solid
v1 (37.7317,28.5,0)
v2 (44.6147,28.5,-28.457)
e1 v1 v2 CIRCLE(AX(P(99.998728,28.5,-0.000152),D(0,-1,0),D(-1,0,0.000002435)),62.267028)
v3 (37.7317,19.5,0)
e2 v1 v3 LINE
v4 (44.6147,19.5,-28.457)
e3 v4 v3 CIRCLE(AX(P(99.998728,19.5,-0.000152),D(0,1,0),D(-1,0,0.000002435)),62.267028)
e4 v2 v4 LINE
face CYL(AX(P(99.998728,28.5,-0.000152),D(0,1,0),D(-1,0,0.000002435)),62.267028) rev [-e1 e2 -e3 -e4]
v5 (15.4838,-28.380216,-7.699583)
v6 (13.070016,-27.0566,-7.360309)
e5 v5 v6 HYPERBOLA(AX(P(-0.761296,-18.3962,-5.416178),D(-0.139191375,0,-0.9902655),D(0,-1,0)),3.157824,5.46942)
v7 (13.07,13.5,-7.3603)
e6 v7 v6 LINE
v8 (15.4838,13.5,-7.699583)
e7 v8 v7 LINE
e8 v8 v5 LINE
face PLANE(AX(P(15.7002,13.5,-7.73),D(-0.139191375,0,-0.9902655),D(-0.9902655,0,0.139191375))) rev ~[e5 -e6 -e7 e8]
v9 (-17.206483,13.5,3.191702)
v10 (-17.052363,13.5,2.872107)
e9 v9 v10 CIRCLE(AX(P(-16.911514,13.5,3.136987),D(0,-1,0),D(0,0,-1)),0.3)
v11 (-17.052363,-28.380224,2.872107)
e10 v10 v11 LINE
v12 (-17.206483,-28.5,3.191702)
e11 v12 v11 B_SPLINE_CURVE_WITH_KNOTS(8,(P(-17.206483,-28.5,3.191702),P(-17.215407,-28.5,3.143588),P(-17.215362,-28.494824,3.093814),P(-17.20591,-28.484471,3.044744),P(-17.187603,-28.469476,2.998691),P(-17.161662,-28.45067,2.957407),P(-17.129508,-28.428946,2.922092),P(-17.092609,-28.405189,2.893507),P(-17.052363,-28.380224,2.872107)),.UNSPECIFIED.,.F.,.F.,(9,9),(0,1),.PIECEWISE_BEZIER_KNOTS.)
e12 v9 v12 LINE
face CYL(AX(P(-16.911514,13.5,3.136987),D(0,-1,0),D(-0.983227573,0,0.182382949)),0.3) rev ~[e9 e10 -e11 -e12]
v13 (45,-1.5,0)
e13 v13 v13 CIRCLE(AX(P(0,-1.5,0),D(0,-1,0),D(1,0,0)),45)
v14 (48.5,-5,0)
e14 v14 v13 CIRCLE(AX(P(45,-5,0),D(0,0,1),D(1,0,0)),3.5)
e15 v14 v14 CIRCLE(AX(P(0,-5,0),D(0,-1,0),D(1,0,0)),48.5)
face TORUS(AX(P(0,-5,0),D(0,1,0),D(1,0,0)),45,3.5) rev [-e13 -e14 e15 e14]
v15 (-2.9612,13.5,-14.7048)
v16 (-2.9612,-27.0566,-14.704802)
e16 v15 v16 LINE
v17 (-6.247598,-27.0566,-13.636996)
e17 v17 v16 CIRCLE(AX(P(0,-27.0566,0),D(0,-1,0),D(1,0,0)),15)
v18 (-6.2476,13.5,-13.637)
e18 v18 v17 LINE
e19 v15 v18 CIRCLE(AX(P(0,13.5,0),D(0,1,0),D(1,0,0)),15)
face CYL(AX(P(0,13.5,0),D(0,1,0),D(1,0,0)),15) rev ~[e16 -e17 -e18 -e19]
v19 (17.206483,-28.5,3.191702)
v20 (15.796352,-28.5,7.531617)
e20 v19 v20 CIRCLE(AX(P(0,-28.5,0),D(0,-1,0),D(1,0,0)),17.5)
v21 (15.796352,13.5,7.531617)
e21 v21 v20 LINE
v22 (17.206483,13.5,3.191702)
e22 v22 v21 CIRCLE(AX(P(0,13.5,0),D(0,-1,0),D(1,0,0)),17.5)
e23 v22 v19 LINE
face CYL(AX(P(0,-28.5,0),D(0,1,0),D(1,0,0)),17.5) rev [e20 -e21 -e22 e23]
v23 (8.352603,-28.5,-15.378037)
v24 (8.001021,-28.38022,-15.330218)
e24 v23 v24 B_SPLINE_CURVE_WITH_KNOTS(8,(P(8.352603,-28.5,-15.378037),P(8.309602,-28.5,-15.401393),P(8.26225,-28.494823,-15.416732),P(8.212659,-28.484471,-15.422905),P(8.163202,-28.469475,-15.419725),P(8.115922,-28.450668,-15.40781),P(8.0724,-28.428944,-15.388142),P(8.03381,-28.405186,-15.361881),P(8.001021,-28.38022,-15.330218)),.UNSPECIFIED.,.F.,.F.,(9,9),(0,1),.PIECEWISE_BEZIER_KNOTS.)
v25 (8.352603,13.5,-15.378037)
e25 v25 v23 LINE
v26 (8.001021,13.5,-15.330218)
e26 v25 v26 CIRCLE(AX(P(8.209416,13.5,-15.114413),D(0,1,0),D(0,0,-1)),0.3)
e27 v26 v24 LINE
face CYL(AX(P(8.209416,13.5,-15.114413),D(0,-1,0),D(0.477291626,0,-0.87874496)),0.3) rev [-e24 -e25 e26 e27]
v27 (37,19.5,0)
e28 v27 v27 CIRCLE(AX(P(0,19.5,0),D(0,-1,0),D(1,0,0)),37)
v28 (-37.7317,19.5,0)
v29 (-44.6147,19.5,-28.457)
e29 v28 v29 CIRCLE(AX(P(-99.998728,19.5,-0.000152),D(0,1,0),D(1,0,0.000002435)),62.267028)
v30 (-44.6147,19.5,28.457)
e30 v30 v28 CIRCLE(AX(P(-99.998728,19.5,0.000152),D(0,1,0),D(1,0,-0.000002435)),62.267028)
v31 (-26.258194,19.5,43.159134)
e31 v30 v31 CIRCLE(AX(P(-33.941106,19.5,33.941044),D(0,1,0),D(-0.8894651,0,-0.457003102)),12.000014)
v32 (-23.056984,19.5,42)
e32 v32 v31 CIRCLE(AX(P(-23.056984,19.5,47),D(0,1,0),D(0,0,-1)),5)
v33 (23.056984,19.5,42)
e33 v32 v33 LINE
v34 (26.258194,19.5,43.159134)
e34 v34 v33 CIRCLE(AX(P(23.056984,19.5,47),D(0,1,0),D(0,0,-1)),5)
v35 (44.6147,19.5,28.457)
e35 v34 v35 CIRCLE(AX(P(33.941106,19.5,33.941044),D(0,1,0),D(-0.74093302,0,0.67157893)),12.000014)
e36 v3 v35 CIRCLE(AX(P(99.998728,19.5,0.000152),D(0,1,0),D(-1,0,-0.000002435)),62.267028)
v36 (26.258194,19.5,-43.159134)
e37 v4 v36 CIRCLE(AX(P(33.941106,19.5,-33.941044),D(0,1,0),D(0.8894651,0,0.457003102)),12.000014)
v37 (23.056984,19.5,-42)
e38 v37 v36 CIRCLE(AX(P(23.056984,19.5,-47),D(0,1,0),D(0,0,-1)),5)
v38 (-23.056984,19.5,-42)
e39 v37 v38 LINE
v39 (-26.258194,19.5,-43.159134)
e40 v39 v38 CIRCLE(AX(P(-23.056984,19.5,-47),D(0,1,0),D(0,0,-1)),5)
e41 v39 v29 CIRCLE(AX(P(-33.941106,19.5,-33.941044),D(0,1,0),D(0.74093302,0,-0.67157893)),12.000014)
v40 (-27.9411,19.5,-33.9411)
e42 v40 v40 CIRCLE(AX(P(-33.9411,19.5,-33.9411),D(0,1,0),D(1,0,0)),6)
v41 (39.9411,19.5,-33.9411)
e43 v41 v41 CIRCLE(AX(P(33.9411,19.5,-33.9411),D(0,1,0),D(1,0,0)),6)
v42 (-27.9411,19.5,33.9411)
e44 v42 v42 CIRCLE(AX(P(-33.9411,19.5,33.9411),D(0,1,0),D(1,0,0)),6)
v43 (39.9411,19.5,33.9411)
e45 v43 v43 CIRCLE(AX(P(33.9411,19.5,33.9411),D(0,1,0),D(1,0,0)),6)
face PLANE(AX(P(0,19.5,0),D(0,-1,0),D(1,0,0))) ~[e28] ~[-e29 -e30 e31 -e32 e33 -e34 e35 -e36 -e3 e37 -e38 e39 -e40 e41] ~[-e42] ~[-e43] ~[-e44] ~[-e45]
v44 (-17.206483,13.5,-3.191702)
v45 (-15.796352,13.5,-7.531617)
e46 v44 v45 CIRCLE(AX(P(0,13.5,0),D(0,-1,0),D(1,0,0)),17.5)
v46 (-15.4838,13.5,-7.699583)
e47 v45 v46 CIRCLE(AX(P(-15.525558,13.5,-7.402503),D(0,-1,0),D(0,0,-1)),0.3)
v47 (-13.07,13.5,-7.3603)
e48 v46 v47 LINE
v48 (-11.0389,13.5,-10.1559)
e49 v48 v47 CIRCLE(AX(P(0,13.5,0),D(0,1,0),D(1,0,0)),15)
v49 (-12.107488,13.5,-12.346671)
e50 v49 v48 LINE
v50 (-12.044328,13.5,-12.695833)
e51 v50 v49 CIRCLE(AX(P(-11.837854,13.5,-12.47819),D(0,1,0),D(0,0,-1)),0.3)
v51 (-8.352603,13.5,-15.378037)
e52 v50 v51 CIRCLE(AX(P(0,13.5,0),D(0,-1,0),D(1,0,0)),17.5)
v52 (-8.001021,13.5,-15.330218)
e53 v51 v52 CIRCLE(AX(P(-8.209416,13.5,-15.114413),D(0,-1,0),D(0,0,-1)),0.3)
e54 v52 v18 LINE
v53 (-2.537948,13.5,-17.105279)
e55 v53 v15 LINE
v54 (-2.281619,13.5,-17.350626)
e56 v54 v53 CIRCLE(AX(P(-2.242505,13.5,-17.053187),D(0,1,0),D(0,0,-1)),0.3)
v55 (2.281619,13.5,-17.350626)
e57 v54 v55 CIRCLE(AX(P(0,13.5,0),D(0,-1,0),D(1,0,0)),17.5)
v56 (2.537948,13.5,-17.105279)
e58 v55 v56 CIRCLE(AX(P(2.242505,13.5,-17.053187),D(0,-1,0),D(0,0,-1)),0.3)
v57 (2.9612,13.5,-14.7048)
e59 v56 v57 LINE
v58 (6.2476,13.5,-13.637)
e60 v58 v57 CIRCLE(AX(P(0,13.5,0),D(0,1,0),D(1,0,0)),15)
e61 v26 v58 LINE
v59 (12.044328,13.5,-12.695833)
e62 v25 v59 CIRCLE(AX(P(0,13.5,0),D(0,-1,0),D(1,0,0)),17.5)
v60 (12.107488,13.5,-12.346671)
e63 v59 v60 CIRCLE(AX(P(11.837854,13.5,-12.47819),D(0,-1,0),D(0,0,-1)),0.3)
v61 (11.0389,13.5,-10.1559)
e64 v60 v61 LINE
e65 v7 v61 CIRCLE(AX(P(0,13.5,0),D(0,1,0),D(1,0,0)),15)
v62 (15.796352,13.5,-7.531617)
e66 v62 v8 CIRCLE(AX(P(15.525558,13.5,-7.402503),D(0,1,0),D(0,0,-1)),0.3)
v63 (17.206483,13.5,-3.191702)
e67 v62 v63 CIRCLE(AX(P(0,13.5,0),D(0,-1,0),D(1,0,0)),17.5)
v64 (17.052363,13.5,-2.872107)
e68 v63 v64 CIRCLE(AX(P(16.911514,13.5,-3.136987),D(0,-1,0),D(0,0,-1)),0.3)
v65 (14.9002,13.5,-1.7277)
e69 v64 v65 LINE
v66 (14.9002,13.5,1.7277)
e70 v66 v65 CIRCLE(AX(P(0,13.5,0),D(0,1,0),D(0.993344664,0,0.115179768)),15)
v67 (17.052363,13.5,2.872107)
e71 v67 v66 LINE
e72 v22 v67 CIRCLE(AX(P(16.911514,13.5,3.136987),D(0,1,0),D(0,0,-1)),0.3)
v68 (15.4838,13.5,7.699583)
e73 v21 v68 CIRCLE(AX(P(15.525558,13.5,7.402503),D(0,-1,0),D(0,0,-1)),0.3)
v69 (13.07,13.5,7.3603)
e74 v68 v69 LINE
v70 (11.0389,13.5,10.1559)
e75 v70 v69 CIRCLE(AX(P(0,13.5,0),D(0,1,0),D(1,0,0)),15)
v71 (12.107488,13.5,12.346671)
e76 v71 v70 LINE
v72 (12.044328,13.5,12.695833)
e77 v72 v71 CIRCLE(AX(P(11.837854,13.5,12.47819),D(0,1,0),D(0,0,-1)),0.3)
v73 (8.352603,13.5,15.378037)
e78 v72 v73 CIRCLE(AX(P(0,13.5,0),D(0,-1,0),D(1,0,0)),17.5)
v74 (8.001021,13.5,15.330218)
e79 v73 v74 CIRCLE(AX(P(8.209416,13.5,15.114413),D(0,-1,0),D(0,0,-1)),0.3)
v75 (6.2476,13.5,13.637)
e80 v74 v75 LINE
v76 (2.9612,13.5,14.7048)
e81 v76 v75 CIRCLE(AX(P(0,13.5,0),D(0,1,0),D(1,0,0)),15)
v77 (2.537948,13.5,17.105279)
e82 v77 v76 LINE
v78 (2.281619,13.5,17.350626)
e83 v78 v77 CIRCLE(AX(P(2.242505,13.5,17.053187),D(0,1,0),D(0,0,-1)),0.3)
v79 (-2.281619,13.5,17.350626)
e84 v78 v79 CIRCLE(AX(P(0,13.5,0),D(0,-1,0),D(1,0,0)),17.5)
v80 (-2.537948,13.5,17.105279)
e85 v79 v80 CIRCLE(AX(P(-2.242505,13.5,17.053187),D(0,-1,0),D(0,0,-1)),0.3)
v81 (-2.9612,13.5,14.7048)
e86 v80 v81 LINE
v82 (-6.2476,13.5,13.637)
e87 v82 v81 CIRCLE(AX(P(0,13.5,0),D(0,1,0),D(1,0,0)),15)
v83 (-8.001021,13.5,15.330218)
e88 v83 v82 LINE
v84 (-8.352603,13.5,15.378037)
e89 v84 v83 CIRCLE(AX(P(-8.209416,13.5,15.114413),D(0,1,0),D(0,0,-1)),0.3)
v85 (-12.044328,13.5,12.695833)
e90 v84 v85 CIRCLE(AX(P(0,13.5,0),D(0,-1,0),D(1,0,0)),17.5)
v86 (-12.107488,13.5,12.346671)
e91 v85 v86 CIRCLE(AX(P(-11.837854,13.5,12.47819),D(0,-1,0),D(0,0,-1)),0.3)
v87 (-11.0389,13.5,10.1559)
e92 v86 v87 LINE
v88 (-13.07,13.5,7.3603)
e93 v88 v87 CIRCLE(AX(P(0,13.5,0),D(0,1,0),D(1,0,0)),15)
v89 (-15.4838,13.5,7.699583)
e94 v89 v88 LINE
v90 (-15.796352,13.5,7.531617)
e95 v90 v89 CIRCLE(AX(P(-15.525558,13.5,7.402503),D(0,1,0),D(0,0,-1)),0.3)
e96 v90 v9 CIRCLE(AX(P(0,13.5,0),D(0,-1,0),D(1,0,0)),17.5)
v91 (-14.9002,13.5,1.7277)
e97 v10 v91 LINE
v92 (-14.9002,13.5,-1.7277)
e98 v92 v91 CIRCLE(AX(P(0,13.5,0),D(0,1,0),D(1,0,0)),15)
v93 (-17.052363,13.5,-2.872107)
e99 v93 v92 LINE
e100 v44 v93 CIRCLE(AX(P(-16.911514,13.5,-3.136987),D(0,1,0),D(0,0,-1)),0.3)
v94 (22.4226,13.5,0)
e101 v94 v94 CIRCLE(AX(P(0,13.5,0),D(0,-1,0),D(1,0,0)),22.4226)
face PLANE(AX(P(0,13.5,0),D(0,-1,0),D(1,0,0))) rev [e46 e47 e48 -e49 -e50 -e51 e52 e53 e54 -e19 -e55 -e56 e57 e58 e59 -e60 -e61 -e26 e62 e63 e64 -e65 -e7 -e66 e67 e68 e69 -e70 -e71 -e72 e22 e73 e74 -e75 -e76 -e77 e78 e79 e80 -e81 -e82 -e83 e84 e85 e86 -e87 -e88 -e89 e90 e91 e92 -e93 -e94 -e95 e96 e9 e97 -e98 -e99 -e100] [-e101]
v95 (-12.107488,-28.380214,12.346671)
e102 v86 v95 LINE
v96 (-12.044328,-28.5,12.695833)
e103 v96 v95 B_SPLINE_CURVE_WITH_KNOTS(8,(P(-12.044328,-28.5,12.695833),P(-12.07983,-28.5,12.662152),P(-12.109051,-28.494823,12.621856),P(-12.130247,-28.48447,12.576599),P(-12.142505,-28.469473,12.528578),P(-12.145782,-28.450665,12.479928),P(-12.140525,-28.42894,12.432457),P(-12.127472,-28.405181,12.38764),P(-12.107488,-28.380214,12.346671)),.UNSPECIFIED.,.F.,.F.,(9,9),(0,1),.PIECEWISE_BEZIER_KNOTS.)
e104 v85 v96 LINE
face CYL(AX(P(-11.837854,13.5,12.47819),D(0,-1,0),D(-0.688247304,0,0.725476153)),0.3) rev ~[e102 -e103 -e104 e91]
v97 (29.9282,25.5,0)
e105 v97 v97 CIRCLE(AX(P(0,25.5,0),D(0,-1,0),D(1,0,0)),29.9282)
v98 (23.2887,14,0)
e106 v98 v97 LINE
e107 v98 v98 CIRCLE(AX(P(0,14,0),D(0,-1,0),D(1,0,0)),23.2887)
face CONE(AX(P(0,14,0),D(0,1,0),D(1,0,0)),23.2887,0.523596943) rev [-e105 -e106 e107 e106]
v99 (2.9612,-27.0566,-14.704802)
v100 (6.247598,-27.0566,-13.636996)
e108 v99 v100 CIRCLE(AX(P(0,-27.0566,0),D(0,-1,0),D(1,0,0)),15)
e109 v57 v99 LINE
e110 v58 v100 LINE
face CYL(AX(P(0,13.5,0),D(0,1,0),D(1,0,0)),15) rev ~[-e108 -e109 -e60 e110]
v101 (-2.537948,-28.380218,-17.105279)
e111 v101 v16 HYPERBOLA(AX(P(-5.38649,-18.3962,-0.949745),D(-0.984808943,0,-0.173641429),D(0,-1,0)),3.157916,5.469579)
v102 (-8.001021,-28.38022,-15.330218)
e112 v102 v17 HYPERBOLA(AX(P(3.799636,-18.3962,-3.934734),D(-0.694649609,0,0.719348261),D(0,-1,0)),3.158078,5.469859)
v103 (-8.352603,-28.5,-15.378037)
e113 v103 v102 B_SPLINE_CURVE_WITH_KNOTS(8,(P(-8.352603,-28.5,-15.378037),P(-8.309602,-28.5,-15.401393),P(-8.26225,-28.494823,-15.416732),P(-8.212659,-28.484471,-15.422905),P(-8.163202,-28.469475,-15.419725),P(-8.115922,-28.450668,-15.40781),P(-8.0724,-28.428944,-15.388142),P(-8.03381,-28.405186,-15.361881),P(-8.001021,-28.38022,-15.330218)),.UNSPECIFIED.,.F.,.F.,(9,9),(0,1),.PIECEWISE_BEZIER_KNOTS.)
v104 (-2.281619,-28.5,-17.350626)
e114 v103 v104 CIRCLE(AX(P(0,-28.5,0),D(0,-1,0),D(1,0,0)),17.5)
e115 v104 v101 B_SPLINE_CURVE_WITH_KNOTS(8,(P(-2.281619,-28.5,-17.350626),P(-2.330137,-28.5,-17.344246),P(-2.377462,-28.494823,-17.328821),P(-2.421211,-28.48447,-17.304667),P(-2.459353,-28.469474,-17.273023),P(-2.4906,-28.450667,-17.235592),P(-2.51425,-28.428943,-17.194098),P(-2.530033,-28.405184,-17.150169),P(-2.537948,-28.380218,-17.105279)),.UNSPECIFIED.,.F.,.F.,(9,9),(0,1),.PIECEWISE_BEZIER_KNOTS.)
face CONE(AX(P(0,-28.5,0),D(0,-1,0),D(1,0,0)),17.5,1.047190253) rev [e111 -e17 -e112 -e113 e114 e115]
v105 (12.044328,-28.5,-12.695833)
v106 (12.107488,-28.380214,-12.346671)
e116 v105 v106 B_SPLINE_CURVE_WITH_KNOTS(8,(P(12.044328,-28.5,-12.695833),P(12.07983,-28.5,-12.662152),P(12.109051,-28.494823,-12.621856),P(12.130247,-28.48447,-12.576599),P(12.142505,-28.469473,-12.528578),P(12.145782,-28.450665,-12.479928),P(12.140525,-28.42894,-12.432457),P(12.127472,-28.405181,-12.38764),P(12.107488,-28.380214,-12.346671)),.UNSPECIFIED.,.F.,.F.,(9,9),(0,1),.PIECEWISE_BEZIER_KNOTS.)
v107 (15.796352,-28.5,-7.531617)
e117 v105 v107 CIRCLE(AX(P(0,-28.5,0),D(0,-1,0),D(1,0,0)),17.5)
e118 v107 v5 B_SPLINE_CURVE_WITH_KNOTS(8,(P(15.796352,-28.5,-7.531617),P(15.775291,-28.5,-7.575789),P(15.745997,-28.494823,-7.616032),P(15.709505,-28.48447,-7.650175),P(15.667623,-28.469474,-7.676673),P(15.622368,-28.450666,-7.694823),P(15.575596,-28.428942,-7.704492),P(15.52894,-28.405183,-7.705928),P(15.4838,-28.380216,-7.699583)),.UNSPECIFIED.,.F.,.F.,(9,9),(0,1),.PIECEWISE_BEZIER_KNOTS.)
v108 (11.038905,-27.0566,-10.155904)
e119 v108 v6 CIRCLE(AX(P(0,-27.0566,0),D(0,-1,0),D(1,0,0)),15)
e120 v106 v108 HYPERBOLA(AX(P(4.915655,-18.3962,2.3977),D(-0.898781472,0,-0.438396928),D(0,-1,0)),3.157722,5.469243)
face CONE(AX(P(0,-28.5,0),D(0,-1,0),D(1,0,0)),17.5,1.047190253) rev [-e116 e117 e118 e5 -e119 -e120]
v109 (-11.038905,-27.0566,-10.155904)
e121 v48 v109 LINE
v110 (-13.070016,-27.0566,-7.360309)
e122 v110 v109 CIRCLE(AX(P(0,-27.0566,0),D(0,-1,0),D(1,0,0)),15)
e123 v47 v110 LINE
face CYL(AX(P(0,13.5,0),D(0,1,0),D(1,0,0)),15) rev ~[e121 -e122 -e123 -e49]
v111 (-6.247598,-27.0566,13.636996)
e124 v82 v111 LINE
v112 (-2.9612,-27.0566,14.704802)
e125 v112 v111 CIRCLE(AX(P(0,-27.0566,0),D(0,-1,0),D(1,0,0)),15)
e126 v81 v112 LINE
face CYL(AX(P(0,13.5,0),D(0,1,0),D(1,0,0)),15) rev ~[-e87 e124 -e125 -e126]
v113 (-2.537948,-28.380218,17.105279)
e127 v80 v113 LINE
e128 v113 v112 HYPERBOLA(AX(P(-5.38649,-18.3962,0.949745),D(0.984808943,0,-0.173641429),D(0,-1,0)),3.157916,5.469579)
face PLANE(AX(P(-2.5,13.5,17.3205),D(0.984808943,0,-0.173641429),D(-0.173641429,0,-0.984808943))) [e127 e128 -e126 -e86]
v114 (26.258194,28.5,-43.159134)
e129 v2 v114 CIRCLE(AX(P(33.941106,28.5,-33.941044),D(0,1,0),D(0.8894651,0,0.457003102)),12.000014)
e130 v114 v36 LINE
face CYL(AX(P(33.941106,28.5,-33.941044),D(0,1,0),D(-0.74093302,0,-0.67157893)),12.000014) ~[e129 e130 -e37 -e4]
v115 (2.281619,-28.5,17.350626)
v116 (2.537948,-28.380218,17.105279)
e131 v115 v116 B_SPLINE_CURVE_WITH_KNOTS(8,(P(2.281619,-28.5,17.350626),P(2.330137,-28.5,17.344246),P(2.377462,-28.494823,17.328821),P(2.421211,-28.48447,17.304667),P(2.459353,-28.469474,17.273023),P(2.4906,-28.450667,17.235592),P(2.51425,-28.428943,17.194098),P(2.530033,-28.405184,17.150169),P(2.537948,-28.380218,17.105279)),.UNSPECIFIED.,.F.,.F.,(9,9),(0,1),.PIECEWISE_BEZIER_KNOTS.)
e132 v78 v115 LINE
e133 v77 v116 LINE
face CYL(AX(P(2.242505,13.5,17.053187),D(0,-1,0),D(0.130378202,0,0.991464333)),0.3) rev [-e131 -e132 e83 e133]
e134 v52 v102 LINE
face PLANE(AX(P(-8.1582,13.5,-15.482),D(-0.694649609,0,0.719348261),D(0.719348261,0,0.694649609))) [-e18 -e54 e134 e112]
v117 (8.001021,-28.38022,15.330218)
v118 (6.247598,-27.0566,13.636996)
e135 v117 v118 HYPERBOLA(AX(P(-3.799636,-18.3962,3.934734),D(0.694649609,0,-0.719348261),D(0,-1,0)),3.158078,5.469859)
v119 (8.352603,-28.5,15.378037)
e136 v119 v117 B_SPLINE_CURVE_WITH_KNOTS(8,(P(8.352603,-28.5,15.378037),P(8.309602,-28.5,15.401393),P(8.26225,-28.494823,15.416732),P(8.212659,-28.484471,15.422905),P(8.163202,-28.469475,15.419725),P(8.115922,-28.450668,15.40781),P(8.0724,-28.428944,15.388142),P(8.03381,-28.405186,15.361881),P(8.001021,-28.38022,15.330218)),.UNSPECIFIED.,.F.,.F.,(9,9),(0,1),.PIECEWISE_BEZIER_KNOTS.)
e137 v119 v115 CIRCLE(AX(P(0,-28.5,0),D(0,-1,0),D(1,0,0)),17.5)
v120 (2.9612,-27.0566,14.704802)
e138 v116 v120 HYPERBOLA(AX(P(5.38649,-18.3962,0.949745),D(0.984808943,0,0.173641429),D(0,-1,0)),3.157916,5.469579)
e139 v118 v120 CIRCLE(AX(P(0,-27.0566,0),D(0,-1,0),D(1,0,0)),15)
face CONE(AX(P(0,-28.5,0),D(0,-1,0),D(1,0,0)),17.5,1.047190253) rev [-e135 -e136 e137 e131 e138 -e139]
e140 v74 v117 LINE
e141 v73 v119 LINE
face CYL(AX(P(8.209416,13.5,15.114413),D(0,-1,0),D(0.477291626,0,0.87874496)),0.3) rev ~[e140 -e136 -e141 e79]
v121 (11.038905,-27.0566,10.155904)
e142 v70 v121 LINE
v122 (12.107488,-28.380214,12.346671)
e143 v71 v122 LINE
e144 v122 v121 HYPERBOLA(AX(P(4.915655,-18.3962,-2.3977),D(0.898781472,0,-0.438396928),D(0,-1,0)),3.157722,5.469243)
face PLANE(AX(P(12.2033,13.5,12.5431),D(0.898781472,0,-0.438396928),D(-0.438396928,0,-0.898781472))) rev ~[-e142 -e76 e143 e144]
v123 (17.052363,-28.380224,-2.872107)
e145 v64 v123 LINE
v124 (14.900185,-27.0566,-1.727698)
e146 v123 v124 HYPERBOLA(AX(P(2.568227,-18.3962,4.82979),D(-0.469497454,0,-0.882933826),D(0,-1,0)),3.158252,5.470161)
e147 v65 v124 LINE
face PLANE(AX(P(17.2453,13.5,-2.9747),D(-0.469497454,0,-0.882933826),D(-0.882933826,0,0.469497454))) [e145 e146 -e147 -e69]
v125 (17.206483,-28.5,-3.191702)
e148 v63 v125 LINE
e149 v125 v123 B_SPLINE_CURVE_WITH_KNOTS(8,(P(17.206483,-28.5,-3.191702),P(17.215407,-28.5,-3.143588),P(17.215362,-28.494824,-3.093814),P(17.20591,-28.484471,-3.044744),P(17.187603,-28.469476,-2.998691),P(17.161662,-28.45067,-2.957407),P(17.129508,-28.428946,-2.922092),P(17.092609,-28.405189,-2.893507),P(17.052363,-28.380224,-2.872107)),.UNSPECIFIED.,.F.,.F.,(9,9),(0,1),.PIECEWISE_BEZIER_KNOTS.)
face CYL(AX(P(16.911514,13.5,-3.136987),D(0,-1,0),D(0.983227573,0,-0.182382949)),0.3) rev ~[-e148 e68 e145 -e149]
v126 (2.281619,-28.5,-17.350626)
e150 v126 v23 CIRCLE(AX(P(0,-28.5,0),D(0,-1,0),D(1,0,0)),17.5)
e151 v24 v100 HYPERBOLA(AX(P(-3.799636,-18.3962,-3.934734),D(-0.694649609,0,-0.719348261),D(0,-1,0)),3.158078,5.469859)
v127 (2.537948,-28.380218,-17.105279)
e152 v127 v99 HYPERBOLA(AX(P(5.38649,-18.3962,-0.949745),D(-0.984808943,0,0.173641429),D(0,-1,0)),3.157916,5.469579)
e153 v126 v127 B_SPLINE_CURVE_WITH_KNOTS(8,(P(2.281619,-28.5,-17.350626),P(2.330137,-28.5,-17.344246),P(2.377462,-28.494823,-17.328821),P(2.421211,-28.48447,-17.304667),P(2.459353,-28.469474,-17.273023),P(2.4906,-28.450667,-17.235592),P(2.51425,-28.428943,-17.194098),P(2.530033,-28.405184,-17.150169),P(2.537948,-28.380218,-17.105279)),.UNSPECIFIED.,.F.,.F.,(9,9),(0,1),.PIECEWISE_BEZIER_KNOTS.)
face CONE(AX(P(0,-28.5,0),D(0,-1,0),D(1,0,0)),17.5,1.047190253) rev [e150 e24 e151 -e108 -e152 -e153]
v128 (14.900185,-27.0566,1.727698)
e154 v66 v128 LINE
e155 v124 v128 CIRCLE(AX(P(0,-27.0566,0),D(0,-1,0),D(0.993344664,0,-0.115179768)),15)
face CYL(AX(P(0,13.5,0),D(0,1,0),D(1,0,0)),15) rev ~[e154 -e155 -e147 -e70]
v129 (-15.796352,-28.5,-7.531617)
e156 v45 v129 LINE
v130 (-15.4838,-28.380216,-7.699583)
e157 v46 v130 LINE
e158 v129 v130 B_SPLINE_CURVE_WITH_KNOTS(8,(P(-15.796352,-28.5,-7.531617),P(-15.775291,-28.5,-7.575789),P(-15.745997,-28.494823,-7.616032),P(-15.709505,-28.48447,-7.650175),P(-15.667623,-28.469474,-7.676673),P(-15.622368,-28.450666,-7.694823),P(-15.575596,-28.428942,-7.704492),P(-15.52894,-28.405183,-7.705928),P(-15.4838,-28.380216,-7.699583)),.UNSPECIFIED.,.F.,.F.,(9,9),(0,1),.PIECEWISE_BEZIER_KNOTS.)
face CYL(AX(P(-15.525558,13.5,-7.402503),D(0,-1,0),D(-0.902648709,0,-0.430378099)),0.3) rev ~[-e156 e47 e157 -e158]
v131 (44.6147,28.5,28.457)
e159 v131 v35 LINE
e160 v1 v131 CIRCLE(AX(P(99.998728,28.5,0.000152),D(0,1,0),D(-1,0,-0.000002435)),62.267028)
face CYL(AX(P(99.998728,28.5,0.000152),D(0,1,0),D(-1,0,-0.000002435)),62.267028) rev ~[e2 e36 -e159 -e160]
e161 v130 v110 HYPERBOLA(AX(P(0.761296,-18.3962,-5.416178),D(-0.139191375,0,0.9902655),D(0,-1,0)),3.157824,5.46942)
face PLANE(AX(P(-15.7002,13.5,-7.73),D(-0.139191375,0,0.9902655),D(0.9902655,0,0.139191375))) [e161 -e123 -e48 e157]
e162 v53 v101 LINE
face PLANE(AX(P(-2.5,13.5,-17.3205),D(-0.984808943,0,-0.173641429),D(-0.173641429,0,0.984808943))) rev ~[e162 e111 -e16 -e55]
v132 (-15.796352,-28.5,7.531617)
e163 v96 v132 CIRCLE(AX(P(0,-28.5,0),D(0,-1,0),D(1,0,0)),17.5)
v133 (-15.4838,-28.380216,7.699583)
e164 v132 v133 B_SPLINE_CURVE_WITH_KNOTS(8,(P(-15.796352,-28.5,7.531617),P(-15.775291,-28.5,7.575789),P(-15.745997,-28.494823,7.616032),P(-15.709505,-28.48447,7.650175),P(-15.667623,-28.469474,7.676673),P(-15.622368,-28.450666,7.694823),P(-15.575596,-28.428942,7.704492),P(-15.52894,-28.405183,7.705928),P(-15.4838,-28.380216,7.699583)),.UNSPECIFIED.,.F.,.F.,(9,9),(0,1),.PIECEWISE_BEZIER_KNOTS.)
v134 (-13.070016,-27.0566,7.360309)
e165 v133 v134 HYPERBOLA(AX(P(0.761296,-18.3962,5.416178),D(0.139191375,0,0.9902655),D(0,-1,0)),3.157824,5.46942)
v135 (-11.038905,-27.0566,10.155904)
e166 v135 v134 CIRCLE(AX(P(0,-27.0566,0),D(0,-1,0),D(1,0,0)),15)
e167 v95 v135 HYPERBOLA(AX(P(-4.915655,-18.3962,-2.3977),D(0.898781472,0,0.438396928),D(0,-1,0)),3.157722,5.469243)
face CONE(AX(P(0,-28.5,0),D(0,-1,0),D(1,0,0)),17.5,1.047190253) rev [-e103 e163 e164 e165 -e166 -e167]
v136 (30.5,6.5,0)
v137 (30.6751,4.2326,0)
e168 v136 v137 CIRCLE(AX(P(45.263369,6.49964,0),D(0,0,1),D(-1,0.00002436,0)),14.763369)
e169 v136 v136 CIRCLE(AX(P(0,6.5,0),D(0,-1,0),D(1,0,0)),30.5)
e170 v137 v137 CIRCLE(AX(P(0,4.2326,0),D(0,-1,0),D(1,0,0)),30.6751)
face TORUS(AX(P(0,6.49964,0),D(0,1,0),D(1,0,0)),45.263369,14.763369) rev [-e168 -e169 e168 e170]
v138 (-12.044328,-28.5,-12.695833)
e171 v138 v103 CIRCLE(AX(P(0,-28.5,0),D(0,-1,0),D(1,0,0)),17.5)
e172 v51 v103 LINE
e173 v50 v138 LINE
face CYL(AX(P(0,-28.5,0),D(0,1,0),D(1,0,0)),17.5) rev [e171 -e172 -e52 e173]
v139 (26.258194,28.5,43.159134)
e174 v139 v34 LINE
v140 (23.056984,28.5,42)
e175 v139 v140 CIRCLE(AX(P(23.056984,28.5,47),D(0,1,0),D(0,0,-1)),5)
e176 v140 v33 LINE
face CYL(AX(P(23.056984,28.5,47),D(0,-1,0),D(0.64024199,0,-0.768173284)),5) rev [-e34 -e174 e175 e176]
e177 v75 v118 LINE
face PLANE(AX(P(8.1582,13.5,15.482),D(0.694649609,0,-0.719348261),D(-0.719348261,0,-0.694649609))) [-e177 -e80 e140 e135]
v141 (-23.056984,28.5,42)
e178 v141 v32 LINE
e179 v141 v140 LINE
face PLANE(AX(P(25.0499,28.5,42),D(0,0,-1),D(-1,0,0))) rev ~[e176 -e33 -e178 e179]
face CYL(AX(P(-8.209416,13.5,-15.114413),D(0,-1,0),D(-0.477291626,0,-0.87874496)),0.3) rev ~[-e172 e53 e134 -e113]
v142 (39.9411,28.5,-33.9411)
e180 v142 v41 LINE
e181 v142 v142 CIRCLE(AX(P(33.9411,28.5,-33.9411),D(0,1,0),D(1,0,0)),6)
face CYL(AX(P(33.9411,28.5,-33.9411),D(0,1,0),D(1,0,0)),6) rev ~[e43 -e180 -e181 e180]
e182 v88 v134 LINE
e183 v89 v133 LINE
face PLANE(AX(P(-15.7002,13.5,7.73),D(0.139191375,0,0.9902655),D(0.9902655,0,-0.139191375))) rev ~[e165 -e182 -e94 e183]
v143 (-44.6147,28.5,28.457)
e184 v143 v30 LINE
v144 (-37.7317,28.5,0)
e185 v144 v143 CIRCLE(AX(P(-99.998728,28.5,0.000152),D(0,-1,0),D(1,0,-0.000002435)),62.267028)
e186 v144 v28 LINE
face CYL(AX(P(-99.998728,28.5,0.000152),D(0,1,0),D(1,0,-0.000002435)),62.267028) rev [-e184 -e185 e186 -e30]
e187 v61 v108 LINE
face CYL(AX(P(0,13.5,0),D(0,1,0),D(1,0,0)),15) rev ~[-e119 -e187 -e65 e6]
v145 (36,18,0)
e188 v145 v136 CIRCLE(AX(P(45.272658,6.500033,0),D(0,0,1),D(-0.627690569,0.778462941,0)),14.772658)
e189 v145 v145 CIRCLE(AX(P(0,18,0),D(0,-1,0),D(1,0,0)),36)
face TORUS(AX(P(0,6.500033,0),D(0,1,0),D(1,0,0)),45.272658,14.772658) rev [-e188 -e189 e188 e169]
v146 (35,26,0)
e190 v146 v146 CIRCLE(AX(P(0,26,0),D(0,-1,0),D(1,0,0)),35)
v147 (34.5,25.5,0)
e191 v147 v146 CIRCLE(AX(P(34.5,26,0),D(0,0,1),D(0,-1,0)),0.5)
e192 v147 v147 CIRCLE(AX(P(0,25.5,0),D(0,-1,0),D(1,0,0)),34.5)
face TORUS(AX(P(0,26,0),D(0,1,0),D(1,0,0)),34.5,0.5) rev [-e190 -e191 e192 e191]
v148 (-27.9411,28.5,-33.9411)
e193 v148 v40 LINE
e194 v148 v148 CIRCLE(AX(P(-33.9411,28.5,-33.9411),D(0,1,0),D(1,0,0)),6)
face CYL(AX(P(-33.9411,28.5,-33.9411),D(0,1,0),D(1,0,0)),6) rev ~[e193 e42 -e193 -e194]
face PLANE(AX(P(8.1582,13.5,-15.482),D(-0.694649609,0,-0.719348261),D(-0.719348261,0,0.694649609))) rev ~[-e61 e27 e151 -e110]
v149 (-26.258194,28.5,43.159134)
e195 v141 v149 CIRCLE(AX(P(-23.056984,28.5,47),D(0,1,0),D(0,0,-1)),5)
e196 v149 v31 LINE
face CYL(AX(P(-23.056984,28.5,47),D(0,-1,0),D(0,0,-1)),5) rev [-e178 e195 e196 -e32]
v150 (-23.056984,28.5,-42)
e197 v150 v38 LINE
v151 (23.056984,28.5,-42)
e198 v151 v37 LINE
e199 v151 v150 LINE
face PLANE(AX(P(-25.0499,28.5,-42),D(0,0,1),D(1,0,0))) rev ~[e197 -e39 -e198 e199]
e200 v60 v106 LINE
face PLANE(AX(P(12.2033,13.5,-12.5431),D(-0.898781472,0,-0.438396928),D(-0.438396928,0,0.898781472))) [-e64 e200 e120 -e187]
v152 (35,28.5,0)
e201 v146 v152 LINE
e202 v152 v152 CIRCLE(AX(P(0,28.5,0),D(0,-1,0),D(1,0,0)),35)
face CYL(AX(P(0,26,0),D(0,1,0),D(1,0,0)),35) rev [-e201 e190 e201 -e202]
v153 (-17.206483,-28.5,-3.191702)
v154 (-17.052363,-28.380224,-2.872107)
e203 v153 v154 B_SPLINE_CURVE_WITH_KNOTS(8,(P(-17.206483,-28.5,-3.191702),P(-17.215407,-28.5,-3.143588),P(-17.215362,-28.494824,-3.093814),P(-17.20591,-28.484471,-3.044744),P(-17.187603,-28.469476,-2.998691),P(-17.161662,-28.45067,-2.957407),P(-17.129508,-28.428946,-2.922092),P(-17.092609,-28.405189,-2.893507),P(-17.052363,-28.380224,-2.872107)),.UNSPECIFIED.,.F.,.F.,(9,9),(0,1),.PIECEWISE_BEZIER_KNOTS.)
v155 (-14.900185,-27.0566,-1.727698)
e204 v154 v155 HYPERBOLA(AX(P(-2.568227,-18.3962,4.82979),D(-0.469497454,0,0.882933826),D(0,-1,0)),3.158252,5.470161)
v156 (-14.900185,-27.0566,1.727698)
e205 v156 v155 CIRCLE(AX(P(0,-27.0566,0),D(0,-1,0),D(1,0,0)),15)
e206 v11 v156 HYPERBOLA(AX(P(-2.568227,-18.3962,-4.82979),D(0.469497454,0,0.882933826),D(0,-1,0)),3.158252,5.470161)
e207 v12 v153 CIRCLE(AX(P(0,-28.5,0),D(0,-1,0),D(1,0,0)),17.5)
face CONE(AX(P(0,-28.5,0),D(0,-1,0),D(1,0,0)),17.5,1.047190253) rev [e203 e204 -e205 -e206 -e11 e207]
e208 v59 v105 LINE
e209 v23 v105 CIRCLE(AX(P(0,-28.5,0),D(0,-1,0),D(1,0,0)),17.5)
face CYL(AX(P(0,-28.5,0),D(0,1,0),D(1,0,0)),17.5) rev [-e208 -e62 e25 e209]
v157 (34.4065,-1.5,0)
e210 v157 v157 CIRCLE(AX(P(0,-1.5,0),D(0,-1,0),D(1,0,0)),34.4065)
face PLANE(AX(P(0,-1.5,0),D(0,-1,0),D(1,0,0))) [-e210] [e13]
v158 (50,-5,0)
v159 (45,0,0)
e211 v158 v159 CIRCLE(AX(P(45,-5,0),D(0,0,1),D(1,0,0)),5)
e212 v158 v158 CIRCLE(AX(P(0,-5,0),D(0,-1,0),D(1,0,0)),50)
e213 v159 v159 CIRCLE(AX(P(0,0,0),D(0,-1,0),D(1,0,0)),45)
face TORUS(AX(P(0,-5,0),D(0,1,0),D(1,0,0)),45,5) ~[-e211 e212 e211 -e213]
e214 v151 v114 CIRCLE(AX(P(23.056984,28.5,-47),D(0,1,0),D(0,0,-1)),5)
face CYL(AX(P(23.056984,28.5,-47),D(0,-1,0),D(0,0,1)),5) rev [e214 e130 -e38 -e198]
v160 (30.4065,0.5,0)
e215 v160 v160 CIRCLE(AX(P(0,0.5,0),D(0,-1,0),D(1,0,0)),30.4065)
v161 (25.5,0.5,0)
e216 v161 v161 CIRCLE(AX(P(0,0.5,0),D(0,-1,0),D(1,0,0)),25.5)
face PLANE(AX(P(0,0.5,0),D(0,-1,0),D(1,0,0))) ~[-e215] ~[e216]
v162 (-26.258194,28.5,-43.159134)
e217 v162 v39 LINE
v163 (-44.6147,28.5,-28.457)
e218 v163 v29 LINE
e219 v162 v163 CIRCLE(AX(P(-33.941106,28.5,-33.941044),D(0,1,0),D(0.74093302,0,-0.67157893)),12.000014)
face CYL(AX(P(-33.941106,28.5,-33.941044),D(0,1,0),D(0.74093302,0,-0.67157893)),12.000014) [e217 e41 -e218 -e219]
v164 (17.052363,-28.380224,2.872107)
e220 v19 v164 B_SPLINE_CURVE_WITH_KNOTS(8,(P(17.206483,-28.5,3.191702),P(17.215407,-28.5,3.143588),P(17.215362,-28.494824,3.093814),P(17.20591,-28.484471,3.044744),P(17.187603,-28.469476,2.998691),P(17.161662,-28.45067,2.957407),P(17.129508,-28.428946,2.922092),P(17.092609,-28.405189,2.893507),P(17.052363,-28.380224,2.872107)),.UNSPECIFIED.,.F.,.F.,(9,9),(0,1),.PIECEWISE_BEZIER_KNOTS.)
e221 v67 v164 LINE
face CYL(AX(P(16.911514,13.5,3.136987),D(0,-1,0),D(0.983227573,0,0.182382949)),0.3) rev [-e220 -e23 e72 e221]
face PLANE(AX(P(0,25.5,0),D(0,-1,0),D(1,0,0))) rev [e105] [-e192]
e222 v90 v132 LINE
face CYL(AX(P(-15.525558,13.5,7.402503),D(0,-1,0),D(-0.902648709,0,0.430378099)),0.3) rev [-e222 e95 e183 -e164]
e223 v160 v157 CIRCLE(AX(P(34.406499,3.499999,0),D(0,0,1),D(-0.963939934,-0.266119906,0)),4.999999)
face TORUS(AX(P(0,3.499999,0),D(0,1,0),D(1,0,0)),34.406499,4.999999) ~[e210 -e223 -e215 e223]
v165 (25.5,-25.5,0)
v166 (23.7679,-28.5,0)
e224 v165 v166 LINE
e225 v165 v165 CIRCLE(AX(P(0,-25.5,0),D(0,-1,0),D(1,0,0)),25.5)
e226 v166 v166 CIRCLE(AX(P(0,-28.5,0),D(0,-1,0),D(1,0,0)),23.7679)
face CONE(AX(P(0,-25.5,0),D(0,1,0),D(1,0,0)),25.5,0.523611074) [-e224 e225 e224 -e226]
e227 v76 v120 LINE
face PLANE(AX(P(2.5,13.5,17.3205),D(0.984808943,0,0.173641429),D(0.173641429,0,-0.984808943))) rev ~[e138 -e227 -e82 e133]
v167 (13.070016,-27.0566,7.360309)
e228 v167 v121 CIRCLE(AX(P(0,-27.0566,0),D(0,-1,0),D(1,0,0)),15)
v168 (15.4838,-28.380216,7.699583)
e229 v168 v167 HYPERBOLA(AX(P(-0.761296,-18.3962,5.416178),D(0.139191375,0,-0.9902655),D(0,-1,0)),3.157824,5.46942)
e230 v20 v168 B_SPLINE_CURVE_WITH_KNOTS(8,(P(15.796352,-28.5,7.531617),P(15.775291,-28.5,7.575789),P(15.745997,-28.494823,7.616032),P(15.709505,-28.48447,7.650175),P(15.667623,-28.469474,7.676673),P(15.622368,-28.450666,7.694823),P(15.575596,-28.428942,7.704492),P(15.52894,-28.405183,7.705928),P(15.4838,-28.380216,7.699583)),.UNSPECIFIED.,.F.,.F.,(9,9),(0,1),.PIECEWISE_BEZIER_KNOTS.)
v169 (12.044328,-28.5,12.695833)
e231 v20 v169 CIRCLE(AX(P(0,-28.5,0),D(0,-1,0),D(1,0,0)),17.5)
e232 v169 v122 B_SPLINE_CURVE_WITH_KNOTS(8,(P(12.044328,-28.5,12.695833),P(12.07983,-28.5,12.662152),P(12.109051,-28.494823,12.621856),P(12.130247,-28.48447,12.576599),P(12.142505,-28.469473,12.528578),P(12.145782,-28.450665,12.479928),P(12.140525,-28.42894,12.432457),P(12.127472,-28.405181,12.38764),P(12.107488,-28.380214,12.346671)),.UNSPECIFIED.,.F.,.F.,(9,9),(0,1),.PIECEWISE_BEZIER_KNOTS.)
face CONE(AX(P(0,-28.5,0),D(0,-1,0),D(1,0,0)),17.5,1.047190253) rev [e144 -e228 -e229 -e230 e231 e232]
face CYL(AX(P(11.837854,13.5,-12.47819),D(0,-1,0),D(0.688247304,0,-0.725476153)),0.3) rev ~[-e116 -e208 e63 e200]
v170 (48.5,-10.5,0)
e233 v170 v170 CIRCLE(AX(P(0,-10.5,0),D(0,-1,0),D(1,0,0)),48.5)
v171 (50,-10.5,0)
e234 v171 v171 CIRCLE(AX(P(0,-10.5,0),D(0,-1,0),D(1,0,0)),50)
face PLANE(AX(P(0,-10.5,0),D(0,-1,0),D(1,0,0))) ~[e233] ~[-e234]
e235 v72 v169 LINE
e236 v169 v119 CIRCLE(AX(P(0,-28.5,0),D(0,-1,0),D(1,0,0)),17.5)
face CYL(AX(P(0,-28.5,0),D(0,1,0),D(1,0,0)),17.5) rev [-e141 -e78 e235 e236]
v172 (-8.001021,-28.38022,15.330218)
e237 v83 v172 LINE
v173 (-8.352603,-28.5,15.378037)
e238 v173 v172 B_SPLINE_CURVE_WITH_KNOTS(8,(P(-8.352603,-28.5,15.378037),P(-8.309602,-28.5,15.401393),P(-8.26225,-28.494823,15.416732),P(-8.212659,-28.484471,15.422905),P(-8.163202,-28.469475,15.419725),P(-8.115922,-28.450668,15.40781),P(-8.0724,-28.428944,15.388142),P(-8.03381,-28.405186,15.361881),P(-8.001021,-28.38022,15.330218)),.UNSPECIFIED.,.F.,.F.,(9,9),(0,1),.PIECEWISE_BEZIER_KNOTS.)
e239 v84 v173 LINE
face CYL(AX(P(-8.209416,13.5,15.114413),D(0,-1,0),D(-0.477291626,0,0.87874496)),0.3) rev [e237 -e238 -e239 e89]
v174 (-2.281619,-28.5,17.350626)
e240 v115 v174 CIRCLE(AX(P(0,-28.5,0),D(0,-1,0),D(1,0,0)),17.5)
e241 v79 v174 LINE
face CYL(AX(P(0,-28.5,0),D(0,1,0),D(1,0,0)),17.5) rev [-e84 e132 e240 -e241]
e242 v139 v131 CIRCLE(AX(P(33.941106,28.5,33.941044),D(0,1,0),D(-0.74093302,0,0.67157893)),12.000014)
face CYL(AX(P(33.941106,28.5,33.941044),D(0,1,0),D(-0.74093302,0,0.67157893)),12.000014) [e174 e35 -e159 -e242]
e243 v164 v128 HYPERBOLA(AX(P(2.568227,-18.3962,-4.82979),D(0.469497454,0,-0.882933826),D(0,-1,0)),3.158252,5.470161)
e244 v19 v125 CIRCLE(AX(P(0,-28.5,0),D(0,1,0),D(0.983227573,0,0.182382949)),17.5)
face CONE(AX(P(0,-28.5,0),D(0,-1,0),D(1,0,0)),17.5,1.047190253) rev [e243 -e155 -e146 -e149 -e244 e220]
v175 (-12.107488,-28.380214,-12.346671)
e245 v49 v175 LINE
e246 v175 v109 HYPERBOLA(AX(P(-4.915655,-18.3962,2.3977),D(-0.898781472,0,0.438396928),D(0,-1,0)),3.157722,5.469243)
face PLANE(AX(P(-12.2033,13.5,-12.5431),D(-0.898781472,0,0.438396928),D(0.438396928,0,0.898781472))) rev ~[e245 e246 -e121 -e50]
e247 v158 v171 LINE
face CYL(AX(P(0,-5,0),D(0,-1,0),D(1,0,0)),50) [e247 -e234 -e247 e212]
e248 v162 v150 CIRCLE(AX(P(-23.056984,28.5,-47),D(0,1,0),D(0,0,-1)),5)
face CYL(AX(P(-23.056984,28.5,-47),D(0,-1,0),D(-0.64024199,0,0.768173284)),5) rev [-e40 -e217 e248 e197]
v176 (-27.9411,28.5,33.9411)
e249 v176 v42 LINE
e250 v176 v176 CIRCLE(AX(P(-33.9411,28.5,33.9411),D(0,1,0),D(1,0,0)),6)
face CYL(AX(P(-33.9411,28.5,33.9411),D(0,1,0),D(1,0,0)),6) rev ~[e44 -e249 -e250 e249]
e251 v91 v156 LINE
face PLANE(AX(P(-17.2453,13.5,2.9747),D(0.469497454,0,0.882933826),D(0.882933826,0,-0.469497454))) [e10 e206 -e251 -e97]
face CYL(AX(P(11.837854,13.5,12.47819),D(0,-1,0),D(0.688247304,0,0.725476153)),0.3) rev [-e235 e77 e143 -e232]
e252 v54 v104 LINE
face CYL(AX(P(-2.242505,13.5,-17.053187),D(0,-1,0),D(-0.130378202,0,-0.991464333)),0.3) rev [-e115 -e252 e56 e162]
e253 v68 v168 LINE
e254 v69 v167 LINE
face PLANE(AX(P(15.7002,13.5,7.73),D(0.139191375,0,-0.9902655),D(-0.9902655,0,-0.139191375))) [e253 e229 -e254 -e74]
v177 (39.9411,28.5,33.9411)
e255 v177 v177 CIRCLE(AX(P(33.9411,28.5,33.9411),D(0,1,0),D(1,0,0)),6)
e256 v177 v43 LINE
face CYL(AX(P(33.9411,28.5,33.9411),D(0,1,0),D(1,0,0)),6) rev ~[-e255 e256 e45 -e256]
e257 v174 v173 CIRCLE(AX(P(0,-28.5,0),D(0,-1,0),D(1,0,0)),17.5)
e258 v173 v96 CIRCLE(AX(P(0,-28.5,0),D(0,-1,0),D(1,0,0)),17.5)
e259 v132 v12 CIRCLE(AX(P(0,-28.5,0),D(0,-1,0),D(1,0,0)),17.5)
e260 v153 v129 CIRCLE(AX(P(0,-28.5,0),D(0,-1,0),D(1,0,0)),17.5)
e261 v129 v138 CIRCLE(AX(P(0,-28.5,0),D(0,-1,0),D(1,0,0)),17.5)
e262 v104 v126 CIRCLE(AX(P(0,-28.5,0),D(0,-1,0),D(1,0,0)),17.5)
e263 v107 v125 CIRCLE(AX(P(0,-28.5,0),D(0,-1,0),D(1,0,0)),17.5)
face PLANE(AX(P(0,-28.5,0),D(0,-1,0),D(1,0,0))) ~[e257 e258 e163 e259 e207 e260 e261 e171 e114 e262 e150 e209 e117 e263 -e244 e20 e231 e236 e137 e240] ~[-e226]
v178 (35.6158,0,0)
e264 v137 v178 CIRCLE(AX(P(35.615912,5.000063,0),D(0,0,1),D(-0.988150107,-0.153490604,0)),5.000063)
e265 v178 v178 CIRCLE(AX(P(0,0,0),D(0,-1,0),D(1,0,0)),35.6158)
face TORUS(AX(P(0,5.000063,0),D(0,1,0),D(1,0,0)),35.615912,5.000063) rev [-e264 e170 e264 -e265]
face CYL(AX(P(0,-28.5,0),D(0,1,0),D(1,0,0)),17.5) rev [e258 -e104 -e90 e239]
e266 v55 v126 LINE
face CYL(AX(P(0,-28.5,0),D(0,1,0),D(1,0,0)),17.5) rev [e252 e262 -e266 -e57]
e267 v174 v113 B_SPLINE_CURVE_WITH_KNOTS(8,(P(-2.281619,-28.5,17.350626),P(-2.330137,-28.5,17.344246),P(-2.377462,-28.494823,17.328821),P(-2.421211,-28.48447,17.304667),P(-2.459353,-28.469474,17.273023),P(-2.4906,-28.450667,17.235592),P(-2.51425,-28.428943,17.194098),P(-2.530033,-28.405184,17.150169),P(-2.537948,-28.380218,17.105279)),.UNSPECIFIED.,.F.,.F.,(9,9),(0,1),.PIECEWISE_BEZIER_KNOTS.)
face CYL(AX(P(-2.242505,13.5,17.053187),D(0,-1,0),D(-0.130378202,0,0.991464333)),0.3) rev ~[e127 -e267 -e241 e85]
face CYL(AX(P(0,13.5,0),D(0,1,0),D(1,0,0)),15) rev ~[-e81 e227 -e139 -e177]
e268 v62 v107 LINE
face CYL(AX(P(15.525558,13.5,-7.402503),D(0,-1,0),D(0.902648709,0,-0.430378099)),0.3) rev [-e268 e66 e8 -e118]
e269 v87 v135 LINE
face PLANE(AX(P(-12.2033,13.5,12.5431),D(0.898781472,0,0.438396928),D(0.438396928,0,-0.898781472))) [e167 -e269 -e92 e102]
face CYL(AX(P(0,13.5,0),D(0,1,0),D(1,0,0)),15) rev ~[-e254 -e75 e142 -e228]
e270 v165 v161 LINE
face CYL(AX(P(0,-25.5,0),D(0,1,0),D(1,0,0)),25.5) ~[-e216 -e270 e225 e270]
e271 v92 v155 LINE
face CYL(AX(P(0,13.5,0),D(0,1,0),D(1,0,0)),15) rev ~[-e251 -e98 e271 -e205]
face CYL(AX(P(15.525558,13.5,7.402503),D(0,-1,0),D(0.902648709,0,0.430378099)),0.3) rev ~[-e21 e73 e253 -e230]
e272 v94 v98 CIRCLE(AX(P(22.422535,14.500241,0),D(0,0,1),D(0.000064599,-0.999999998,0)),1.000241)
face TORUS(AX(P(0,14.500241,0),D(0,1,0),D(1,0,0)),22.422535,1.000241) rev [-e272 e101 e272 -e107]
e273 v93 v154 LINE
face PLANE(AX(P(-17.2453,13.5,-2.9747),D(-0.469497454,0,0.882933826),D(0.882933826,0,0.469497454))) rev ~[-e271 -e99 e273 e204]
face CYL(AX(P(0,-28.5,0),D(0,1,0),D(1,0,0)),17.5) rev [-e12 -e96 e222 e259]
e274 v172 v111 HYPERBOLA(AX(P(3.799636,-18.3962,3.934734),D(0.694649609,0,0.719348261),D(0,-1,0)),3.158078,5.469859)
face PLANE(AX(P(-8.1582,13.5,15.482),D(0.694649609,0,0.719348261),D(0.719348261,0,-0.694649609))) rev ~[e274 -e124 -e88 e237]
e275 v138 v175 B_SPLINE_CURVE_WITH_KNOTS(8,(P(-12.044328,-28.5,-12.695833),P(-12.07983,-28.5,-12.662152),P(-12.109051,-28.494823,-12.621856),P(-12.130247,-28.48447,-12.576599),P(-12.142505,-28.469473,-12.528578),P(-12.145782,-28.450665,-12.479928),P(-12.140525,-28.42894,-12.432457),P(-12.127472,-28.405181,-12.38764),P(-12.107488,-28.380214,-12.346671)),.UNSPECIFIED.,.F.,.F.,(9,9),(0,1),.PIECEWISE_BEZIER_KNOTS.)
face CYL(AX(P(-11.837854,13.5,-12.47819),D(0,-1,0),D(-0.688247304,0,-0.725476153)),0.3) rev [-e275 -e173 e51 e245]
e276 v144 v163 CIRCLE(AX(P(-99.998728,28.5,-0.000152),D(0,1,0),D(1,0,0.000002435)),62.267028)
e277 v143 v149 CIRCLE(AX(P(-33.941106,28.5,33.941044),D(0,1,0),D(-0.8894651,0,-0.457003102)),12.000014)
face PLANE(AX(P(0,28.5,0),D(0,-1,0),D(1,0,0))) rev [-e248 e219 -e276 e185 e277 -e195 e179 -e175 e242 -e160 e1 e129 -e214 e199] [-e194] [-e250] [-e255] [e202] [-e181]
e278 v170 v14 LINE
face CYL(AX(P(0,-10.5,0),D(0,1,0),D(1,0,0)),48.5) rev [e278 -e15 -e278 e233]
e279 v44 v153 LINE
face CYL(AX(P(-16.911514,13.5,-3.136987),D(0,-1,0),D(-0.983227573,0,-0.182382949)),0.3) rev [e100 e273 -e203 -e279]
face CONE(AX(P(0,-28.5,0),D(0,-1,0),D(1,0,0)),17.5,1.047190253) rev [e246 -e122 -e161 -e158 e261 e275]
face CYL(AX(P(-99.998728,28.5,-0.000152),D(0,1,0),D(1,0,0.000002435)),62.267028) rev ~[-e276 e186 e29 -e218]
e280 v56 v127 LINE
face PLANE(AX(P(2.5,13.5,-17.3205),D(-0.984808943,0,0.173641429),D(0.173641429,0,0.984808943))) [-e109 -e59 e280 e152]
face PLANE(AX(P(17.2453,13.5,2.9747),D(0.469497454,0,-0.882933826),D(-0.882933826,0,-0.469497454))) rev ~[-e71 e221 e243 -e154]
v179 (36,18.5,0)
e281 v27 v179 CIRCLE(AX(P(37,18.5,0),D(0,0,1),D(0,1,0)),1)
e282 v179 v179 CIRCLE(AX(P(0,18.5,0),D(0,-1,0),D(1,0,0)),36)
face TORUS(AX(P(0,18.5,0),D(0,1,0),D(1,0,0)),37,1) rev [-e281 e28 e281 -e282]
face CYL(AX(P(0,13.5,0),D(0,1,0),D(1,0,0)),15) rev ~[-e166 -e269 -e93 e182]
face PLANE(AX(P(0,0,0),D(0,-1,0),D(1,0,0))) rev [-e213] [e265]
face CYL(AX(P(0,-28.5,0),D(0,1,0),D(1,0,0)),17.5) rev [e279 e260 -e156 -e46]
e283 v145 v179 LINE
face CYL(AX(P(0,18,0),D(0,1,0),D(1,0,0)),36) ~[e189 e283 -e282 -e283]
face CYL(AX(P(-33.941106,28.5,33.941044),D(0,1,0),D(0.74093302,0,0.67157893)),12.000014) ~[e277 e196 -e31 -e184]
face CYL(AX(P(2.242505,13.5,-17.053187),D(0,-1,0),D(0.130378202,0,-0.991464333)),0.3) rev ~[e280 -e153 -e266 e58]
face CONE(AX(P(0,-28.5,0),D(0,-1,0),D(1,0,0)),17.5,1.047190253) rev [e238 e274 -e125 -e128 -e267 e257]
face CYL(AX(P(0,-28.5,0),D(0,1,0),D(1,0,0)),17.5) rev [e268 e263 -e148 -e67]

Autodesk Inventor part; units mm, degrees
ref_plane "YZ Plane" through (0, 0, 0) normal (1, 0, 0) x (0, 1, 0)
ref_plane "XZ Plane" through (0, 0, 0) normal (0, 1, 0) x (-1, 0, 0)
ref_plane "XY Plane" through (0, 0, 0) normal (0, 0, 1) x (1, 0, 0)
sketch "Эскиз1" plane through (0, 0, 0) normal (0, 0, 1) x (1, 0, 0)
  line L0 (0, 28.5) -> (0, -28.5)
  line L1 (17.5, -28.5) -> (23.7679, -28.5)
  line L2 (25.5, -25.5) -> (25.5, 0.5)
  line L3 (17.5, -28.5) -> (17.5, 13.5)
  line L4 (25.5, -25.5) -> (23.7679, -28.5)
  line L5 (25.5, 0.5) -> (29, 0.5)
  line L6 (29, 0.5) -> (29, 6.5)
  line L7 (29, 6.5) -> (30.5, 6.5)
  line L8 (17.5, 13.5) -> (22.4226, 13.5)
  line L9 (29.9282, 25.5) -> (34.5, 25.5)
  line L10 (35, 26) -> (35, 28.5)
  arc A0 (34.5, 25.5) -> (35, 26) centre (34.5, 26) ccw
  line L11 (23.2887, 14) -> (29.9282, 25.5)
  line L12 (35, 28.5) -> (60, 28.5)
  line L13 (60, 28.5) -> (60, 19.5)
  arc A1 (36, 18) -> (30.5, 6.5) centre (45.2727, 6.5) ccw
  line L14 (36, 18) -> (36, 18.5)
  line L15 (37, 19.5) -> (60, 19.5)
  arc A2 (22.4226, 13.5) -> (23.2887, 14) centre (22.4226, 14.5) ccw
  arc A3 (37, 19.5) -> (36, 18.5) centre (37, 18.5) ccw
  point P0 (0, 0)
  point P1 (0, 0)
  point P2 (25.5, -28.5)
  point P3 (23, 13.5)
  dimension "d0" = 57
  dimension "d1" = 35
  dimension "d2" = 51
  dimension "d3" = 3
  dimension "d4" = 30
  dimension "d5" = 58
  dimension "d6" = 61
  dimension "d7" = 35
  dimension "d8" = 6
  dimension "d12" = 3
  dimension "d13" = 0.5
  dimension "d14" = 30
  dimension "d15" = 46
  dimension "d16" = 15
  dimension "d17" = 70
  dimension "d18" = 1.5
  dimension "d19" = 9
  dimension "d20" = 72
  dimension "d21" = 120
  dimension "d22" = 1
revolve "Вращение1" add sketch "Эскиз1" angle 360 about axis through (0, 28.5, 0) along (0, -1, 0)
sketch "Эскиз2" plane through (0, 28.5, 0) normal (0, 1, 0) x (1, 0, 0)
  circle A0 centre (0, 0) radius 48 construction
  circle A1 centre (-33.9411, 33.9411) radius 6
  line L0 (0, 0) -> (0, 48) construction
  line L1 (0, 0) -> (-33.9411, 33.9411) construction
  circle A2 centre (33.9411, 33.9411) radius 6
  circle A3 centre (33.9411, -33.9411) radius 6
  circle A4 centre (-33.9411, -33.9411) radius 6
  dimension "d24" = 96
  dimension "d25" = 12
  dimension "d26" = 45
extrude "Выдавливание1" cut sketch "Эскиз2" against normal through all
sketch "Эскиз3" plane through (0, 28.5, 0) normal (0, 1, 0) x (1, 0, 0)
  arc A0 (-37.7317, 0) -> (-44.6147, 28.457) centre (-100, 0) ccw
  circle A1 centre (-33.9411, 33.9411) radius 6 projected
  circle A2 centre (0, 0) radius 60 projected
  arc A3 (-25.0499, 42) -> (-44.6147, 28.457) centre (-33.9411, 33.9411) ccw
  line L0 (-25.0499, 42) -> (0, 42)
  line L1 (-37.7317, 0) -> (-60, 0)
  line L2 (0, 42) -> (0, 60)
  point P0 (0, 0)
  point P1 (-42.4264, 42.4264)
  dimension "d30" = 12
  dimension "d31" = 100
  dimension "d32" = 42
extrude "Выдавливание2" cut sketch "Эскиз3" against normal through all contours L1 A2 A3 A0 | A2 L2 L0 A3
mirror "Зеркальное отражение1" about plane through (0, 0, 0) normal (1, 0, 0) of "Выдавливание2"
mirror "Зеркальное отражение2" about plane through (0, 0, 0) normal (0, 0, 1) of "Выдавливание2", "Зеркальное отражение1"
fillet "Сопряжение1" radius 5 4 edges at (-25.0499, 24, -42) (25.0499, 24, -42) (-25.0499, 24, 42) (25.0499, 24, 42)
sketch "Эскиз4" plane through (0, 13.5, 0) normal (0, 1, 0) x (1, 0, 0)
  circle A0 centre (0, 0) radius 17.5 projected
  line L0 (-2.5, -17.3205) -> (2.5, -17.3205) construction
  circle A1 centre (0, 0) radius 15
  line L1 (-12.2033, -12.5431) -> (-8.1582, -15.482) construction
  line L2 (-17.2453, -2.9747) -> (-15.7002, -7.73) construction
  line L3 (-15.7002, 7.73) -> (-17.2453, 2.9747) construction
  line L4 (-8.1582, 15.482) -> (-12.2033, 12.5431) construction
  line L5 (2.5, 17.3205) -> (-2.5, 17.3205) construction
  line L6 (12.2033, 12.5431) -> (8.1582, 15.482) construction
  line L7 (17.2453, 2.9747) -> (15.7002, 7.73) construction
  line L8 (15.7002, -7.73) -> (17.2453, -2.9747) construction
  line L9 (8.1582, -15.482) -> (12.2033, -12.5431) construction
  line L10 (-8.1582, -15.482) -> (-6.2476, -13.637)
  line L11 (-2.5, -17.3205) -> (-2.9612, -14.7048)
  line L12 (-15.7002, -7.73) -> (-13.07, -7.3603)
  line L13 (-12.2033, -12.5431) -> (-11.0389, -10.1559)
  line L14 (-17.2453, 2.9747) -> (-14.9002, 1.7277)
  line L15 (-17.2453, -2.9747) -> (-14.9002, -1.7277)
  line L16 (-12.2033, 12.5431) -> (-11.0389, 10.1559)
  line L17 (-15.7002, 7.73) -> (-13.07, 7.3603)
  line L18 (-2.5, 17.3205) -> (-2.9612, 14.7048)
  line L19 (-8.1582, 15.482) -> (-6.2476, 13.637)
  line L20 (8.1582, 15.482) -> (6.2476, 13.637)
  line L21 (2.5, 17.3205) -> (2.9612, 14.7048)
  line L22 (15.7002, 7.73) -> (13.07, 7.3603)
  line L23 (12.2033, 12.5431) -> (11.0389, 10.1559)
  line L24 (17.2453, -2.9747) -> (14.9002, -1.7277)
  line L25 (17.2453, 2.9747) -> (14.9002, 1.7277)
  line L26 (12.2033, -12.5431) -> (11.0389, -10.1559)
  line L27 (15.7002, -7.73) -> (13.07, -7.3603)
  line L28 (2.5, -17.3205) -> (2.9612, -14.7048)
  line L29 (8.1582, -15.482) -> (6.2476, -13.637)
  point P0 (0, 0)
  point P1 (0, -17.3205)
  point P2 (-10.1807, -14.0126)
  point P3 (-16.4728, -5.3523)
  point P4 (-16.4728, 5.3523)
  point P5 (-10.1807, 14.0126)
  point P6 (0, 17.3205)
  point P7 (10.1807, 14.0126)
  point P8 (16.4728, 5.3523)
  point P9 (16.4728, -5.3523)
  point P10 (10.1807, -14.0126)
  point P11 (2.9612, 14.7048)
  dimension "d36" = 5
  dimension "d37" = 30
  dimension "d40" = 360
  dimension "d42" = 100
  dimension "d44" = 100
  dimension "d47" = 360
extrude "Выдавливание3" add sketch "Эскиз4" against normal up to surface (42 mm away) contours A0 L24 A1 L25 | L22 A1 L23 A0 | A0 L26 A1 L27 | L20 A1 L21 A0 | A0 L28 A1 L29 | L18 A1 L19 A0 | A0 L10 A1 L11 | L16 A1 L17 A0 | A0 L12 A1 L13 | L14 A1 L15 A0
fillet "Сопряжение2" radius 0.3 20 edges at (15.7002, -7.5, 7.73) (8.1582, -7.5, 15.482) (2.5, -7.5, 17.3205) (12.2033, -7.5, 12.5431) (-2.5, -7.5, 17.3205) (-8.1582, -7.5, 15.482) (-12.2033, -7.5, 12.5431) (-15.7002, -7.5, 7.73) (-17.2453, -7.5, 2.9747) (-17.2453, -7.5, -2.9747) (-12.2033, -7.5, -12.5431) (-15.7002, -7.5, -7.73) (-2.5, -7.5, -17.3205) (-8.1582, -7.5, -15.482) (8.1582, -7.5, -15.482) (2.5, -7.5, -17.3205) (15.7002, -7.5, -7.73) (17.2453, -7.5, -2.9747) (12.2033, -7.5, -12.5431) (17.2453, -7.5, 2.9747)
sketch "Эскиз5" plane through (0, 0, 0) normal (0, 0, 1) x (1, 0, 0)
  line L0 (-23.7679, -28.5) -> (23.7679, -28.5) projected
  line L1 (15, -28.5) -> (15, 13.5) projected
  line L2 (17.5, -28.5) -> (15, -27.0566)
  line L3 (-35, 28.5) -> (35, 28.5) projected
  line L4 (23.0569, 28.5) -> (-23.0569, 28.5) projected
  line L5 (0, 28.5) -> (0, -28.5)
  point P0 (0, 0)
  dimension "d53" = 30
  dimension "d54" = 35
revolve "Вращение2" cut sketch "Эскиз5" angle 360 about axis through (0, 28.5, 0) along (0, -1, 0)
sketch "Эскиз6" plane through (0, 0, 0) normal (0, 0, 1) x (1, 0, 0)
  line L0 (29, 6.5) -> (29, 0.5) projected
  line L1 (-30.5, 6.5) -> (30.5, 6.5) projected
  arc A0 (36, 18) -> (30.5, 6.5) centre (45.2727, 6.5) ccw projected
  arc A1 (30.5, 6.5) -> (30.6751, 4.2326) centre (45.2727, 6.5) ccw
  line L2 (35.6158, 0) -> (45, 0)
  line L3 (50, -5) -> (50, -10.5)
  arc A2 (50, -5) -> (45, 0) centre (45, -5) ccw
  line L4 (48.5, -10.5) -> (48.5, -5)
  arc A3 (48.5, -5) -> (45, -1.5) centre (45, -5) ccw
  line L5 (45, -1.5) -> (34.4065, -1.5)
  arc A4 (29, 6.5) -> (29.5868, 2.1694) centre (45.2727, 6.5) ccw
  line L6 (48.5, -10.5) -> (50, -10.5)
  line L7 (-2.2816, -28.5) -> (2.2816, -28.5) projected
  arc A5 (30.6751, 4.2326) -> (35.6158, 0) centre (35.6158, 5) ccw
  arc A6 (29.5868, 2.1694) -> (34.4065, -1.5) centre (34.4065, 3.5) ccw
  line L8 (-29, 6.5) -> (29, 6.5) projected
  line L9 (0, 6.5) -> (0, -28.5)
  line L10 (-29, 0.5) -> (29, 0.5) projected
  line L11 (29, 0.5) -> (30.4065, 0.5)
  point P0 (0, 0)
  dimension "d56" = 5
  dimension "d57" = 27
  dimension "d58" = 5
  dimension "d59" = 100
  dimension "d60" = 1.5
  dimension "d61" = 9
revolve "Вращение3" add sketch "Эскиз6" angle 360 about axis through (0, 6.5, 0) along (0, -1, 0) contours A4 A6 L11 L0 | L1 A1 A5 L2 A2 L3 L6 L4 A3 L5 A6 A4
